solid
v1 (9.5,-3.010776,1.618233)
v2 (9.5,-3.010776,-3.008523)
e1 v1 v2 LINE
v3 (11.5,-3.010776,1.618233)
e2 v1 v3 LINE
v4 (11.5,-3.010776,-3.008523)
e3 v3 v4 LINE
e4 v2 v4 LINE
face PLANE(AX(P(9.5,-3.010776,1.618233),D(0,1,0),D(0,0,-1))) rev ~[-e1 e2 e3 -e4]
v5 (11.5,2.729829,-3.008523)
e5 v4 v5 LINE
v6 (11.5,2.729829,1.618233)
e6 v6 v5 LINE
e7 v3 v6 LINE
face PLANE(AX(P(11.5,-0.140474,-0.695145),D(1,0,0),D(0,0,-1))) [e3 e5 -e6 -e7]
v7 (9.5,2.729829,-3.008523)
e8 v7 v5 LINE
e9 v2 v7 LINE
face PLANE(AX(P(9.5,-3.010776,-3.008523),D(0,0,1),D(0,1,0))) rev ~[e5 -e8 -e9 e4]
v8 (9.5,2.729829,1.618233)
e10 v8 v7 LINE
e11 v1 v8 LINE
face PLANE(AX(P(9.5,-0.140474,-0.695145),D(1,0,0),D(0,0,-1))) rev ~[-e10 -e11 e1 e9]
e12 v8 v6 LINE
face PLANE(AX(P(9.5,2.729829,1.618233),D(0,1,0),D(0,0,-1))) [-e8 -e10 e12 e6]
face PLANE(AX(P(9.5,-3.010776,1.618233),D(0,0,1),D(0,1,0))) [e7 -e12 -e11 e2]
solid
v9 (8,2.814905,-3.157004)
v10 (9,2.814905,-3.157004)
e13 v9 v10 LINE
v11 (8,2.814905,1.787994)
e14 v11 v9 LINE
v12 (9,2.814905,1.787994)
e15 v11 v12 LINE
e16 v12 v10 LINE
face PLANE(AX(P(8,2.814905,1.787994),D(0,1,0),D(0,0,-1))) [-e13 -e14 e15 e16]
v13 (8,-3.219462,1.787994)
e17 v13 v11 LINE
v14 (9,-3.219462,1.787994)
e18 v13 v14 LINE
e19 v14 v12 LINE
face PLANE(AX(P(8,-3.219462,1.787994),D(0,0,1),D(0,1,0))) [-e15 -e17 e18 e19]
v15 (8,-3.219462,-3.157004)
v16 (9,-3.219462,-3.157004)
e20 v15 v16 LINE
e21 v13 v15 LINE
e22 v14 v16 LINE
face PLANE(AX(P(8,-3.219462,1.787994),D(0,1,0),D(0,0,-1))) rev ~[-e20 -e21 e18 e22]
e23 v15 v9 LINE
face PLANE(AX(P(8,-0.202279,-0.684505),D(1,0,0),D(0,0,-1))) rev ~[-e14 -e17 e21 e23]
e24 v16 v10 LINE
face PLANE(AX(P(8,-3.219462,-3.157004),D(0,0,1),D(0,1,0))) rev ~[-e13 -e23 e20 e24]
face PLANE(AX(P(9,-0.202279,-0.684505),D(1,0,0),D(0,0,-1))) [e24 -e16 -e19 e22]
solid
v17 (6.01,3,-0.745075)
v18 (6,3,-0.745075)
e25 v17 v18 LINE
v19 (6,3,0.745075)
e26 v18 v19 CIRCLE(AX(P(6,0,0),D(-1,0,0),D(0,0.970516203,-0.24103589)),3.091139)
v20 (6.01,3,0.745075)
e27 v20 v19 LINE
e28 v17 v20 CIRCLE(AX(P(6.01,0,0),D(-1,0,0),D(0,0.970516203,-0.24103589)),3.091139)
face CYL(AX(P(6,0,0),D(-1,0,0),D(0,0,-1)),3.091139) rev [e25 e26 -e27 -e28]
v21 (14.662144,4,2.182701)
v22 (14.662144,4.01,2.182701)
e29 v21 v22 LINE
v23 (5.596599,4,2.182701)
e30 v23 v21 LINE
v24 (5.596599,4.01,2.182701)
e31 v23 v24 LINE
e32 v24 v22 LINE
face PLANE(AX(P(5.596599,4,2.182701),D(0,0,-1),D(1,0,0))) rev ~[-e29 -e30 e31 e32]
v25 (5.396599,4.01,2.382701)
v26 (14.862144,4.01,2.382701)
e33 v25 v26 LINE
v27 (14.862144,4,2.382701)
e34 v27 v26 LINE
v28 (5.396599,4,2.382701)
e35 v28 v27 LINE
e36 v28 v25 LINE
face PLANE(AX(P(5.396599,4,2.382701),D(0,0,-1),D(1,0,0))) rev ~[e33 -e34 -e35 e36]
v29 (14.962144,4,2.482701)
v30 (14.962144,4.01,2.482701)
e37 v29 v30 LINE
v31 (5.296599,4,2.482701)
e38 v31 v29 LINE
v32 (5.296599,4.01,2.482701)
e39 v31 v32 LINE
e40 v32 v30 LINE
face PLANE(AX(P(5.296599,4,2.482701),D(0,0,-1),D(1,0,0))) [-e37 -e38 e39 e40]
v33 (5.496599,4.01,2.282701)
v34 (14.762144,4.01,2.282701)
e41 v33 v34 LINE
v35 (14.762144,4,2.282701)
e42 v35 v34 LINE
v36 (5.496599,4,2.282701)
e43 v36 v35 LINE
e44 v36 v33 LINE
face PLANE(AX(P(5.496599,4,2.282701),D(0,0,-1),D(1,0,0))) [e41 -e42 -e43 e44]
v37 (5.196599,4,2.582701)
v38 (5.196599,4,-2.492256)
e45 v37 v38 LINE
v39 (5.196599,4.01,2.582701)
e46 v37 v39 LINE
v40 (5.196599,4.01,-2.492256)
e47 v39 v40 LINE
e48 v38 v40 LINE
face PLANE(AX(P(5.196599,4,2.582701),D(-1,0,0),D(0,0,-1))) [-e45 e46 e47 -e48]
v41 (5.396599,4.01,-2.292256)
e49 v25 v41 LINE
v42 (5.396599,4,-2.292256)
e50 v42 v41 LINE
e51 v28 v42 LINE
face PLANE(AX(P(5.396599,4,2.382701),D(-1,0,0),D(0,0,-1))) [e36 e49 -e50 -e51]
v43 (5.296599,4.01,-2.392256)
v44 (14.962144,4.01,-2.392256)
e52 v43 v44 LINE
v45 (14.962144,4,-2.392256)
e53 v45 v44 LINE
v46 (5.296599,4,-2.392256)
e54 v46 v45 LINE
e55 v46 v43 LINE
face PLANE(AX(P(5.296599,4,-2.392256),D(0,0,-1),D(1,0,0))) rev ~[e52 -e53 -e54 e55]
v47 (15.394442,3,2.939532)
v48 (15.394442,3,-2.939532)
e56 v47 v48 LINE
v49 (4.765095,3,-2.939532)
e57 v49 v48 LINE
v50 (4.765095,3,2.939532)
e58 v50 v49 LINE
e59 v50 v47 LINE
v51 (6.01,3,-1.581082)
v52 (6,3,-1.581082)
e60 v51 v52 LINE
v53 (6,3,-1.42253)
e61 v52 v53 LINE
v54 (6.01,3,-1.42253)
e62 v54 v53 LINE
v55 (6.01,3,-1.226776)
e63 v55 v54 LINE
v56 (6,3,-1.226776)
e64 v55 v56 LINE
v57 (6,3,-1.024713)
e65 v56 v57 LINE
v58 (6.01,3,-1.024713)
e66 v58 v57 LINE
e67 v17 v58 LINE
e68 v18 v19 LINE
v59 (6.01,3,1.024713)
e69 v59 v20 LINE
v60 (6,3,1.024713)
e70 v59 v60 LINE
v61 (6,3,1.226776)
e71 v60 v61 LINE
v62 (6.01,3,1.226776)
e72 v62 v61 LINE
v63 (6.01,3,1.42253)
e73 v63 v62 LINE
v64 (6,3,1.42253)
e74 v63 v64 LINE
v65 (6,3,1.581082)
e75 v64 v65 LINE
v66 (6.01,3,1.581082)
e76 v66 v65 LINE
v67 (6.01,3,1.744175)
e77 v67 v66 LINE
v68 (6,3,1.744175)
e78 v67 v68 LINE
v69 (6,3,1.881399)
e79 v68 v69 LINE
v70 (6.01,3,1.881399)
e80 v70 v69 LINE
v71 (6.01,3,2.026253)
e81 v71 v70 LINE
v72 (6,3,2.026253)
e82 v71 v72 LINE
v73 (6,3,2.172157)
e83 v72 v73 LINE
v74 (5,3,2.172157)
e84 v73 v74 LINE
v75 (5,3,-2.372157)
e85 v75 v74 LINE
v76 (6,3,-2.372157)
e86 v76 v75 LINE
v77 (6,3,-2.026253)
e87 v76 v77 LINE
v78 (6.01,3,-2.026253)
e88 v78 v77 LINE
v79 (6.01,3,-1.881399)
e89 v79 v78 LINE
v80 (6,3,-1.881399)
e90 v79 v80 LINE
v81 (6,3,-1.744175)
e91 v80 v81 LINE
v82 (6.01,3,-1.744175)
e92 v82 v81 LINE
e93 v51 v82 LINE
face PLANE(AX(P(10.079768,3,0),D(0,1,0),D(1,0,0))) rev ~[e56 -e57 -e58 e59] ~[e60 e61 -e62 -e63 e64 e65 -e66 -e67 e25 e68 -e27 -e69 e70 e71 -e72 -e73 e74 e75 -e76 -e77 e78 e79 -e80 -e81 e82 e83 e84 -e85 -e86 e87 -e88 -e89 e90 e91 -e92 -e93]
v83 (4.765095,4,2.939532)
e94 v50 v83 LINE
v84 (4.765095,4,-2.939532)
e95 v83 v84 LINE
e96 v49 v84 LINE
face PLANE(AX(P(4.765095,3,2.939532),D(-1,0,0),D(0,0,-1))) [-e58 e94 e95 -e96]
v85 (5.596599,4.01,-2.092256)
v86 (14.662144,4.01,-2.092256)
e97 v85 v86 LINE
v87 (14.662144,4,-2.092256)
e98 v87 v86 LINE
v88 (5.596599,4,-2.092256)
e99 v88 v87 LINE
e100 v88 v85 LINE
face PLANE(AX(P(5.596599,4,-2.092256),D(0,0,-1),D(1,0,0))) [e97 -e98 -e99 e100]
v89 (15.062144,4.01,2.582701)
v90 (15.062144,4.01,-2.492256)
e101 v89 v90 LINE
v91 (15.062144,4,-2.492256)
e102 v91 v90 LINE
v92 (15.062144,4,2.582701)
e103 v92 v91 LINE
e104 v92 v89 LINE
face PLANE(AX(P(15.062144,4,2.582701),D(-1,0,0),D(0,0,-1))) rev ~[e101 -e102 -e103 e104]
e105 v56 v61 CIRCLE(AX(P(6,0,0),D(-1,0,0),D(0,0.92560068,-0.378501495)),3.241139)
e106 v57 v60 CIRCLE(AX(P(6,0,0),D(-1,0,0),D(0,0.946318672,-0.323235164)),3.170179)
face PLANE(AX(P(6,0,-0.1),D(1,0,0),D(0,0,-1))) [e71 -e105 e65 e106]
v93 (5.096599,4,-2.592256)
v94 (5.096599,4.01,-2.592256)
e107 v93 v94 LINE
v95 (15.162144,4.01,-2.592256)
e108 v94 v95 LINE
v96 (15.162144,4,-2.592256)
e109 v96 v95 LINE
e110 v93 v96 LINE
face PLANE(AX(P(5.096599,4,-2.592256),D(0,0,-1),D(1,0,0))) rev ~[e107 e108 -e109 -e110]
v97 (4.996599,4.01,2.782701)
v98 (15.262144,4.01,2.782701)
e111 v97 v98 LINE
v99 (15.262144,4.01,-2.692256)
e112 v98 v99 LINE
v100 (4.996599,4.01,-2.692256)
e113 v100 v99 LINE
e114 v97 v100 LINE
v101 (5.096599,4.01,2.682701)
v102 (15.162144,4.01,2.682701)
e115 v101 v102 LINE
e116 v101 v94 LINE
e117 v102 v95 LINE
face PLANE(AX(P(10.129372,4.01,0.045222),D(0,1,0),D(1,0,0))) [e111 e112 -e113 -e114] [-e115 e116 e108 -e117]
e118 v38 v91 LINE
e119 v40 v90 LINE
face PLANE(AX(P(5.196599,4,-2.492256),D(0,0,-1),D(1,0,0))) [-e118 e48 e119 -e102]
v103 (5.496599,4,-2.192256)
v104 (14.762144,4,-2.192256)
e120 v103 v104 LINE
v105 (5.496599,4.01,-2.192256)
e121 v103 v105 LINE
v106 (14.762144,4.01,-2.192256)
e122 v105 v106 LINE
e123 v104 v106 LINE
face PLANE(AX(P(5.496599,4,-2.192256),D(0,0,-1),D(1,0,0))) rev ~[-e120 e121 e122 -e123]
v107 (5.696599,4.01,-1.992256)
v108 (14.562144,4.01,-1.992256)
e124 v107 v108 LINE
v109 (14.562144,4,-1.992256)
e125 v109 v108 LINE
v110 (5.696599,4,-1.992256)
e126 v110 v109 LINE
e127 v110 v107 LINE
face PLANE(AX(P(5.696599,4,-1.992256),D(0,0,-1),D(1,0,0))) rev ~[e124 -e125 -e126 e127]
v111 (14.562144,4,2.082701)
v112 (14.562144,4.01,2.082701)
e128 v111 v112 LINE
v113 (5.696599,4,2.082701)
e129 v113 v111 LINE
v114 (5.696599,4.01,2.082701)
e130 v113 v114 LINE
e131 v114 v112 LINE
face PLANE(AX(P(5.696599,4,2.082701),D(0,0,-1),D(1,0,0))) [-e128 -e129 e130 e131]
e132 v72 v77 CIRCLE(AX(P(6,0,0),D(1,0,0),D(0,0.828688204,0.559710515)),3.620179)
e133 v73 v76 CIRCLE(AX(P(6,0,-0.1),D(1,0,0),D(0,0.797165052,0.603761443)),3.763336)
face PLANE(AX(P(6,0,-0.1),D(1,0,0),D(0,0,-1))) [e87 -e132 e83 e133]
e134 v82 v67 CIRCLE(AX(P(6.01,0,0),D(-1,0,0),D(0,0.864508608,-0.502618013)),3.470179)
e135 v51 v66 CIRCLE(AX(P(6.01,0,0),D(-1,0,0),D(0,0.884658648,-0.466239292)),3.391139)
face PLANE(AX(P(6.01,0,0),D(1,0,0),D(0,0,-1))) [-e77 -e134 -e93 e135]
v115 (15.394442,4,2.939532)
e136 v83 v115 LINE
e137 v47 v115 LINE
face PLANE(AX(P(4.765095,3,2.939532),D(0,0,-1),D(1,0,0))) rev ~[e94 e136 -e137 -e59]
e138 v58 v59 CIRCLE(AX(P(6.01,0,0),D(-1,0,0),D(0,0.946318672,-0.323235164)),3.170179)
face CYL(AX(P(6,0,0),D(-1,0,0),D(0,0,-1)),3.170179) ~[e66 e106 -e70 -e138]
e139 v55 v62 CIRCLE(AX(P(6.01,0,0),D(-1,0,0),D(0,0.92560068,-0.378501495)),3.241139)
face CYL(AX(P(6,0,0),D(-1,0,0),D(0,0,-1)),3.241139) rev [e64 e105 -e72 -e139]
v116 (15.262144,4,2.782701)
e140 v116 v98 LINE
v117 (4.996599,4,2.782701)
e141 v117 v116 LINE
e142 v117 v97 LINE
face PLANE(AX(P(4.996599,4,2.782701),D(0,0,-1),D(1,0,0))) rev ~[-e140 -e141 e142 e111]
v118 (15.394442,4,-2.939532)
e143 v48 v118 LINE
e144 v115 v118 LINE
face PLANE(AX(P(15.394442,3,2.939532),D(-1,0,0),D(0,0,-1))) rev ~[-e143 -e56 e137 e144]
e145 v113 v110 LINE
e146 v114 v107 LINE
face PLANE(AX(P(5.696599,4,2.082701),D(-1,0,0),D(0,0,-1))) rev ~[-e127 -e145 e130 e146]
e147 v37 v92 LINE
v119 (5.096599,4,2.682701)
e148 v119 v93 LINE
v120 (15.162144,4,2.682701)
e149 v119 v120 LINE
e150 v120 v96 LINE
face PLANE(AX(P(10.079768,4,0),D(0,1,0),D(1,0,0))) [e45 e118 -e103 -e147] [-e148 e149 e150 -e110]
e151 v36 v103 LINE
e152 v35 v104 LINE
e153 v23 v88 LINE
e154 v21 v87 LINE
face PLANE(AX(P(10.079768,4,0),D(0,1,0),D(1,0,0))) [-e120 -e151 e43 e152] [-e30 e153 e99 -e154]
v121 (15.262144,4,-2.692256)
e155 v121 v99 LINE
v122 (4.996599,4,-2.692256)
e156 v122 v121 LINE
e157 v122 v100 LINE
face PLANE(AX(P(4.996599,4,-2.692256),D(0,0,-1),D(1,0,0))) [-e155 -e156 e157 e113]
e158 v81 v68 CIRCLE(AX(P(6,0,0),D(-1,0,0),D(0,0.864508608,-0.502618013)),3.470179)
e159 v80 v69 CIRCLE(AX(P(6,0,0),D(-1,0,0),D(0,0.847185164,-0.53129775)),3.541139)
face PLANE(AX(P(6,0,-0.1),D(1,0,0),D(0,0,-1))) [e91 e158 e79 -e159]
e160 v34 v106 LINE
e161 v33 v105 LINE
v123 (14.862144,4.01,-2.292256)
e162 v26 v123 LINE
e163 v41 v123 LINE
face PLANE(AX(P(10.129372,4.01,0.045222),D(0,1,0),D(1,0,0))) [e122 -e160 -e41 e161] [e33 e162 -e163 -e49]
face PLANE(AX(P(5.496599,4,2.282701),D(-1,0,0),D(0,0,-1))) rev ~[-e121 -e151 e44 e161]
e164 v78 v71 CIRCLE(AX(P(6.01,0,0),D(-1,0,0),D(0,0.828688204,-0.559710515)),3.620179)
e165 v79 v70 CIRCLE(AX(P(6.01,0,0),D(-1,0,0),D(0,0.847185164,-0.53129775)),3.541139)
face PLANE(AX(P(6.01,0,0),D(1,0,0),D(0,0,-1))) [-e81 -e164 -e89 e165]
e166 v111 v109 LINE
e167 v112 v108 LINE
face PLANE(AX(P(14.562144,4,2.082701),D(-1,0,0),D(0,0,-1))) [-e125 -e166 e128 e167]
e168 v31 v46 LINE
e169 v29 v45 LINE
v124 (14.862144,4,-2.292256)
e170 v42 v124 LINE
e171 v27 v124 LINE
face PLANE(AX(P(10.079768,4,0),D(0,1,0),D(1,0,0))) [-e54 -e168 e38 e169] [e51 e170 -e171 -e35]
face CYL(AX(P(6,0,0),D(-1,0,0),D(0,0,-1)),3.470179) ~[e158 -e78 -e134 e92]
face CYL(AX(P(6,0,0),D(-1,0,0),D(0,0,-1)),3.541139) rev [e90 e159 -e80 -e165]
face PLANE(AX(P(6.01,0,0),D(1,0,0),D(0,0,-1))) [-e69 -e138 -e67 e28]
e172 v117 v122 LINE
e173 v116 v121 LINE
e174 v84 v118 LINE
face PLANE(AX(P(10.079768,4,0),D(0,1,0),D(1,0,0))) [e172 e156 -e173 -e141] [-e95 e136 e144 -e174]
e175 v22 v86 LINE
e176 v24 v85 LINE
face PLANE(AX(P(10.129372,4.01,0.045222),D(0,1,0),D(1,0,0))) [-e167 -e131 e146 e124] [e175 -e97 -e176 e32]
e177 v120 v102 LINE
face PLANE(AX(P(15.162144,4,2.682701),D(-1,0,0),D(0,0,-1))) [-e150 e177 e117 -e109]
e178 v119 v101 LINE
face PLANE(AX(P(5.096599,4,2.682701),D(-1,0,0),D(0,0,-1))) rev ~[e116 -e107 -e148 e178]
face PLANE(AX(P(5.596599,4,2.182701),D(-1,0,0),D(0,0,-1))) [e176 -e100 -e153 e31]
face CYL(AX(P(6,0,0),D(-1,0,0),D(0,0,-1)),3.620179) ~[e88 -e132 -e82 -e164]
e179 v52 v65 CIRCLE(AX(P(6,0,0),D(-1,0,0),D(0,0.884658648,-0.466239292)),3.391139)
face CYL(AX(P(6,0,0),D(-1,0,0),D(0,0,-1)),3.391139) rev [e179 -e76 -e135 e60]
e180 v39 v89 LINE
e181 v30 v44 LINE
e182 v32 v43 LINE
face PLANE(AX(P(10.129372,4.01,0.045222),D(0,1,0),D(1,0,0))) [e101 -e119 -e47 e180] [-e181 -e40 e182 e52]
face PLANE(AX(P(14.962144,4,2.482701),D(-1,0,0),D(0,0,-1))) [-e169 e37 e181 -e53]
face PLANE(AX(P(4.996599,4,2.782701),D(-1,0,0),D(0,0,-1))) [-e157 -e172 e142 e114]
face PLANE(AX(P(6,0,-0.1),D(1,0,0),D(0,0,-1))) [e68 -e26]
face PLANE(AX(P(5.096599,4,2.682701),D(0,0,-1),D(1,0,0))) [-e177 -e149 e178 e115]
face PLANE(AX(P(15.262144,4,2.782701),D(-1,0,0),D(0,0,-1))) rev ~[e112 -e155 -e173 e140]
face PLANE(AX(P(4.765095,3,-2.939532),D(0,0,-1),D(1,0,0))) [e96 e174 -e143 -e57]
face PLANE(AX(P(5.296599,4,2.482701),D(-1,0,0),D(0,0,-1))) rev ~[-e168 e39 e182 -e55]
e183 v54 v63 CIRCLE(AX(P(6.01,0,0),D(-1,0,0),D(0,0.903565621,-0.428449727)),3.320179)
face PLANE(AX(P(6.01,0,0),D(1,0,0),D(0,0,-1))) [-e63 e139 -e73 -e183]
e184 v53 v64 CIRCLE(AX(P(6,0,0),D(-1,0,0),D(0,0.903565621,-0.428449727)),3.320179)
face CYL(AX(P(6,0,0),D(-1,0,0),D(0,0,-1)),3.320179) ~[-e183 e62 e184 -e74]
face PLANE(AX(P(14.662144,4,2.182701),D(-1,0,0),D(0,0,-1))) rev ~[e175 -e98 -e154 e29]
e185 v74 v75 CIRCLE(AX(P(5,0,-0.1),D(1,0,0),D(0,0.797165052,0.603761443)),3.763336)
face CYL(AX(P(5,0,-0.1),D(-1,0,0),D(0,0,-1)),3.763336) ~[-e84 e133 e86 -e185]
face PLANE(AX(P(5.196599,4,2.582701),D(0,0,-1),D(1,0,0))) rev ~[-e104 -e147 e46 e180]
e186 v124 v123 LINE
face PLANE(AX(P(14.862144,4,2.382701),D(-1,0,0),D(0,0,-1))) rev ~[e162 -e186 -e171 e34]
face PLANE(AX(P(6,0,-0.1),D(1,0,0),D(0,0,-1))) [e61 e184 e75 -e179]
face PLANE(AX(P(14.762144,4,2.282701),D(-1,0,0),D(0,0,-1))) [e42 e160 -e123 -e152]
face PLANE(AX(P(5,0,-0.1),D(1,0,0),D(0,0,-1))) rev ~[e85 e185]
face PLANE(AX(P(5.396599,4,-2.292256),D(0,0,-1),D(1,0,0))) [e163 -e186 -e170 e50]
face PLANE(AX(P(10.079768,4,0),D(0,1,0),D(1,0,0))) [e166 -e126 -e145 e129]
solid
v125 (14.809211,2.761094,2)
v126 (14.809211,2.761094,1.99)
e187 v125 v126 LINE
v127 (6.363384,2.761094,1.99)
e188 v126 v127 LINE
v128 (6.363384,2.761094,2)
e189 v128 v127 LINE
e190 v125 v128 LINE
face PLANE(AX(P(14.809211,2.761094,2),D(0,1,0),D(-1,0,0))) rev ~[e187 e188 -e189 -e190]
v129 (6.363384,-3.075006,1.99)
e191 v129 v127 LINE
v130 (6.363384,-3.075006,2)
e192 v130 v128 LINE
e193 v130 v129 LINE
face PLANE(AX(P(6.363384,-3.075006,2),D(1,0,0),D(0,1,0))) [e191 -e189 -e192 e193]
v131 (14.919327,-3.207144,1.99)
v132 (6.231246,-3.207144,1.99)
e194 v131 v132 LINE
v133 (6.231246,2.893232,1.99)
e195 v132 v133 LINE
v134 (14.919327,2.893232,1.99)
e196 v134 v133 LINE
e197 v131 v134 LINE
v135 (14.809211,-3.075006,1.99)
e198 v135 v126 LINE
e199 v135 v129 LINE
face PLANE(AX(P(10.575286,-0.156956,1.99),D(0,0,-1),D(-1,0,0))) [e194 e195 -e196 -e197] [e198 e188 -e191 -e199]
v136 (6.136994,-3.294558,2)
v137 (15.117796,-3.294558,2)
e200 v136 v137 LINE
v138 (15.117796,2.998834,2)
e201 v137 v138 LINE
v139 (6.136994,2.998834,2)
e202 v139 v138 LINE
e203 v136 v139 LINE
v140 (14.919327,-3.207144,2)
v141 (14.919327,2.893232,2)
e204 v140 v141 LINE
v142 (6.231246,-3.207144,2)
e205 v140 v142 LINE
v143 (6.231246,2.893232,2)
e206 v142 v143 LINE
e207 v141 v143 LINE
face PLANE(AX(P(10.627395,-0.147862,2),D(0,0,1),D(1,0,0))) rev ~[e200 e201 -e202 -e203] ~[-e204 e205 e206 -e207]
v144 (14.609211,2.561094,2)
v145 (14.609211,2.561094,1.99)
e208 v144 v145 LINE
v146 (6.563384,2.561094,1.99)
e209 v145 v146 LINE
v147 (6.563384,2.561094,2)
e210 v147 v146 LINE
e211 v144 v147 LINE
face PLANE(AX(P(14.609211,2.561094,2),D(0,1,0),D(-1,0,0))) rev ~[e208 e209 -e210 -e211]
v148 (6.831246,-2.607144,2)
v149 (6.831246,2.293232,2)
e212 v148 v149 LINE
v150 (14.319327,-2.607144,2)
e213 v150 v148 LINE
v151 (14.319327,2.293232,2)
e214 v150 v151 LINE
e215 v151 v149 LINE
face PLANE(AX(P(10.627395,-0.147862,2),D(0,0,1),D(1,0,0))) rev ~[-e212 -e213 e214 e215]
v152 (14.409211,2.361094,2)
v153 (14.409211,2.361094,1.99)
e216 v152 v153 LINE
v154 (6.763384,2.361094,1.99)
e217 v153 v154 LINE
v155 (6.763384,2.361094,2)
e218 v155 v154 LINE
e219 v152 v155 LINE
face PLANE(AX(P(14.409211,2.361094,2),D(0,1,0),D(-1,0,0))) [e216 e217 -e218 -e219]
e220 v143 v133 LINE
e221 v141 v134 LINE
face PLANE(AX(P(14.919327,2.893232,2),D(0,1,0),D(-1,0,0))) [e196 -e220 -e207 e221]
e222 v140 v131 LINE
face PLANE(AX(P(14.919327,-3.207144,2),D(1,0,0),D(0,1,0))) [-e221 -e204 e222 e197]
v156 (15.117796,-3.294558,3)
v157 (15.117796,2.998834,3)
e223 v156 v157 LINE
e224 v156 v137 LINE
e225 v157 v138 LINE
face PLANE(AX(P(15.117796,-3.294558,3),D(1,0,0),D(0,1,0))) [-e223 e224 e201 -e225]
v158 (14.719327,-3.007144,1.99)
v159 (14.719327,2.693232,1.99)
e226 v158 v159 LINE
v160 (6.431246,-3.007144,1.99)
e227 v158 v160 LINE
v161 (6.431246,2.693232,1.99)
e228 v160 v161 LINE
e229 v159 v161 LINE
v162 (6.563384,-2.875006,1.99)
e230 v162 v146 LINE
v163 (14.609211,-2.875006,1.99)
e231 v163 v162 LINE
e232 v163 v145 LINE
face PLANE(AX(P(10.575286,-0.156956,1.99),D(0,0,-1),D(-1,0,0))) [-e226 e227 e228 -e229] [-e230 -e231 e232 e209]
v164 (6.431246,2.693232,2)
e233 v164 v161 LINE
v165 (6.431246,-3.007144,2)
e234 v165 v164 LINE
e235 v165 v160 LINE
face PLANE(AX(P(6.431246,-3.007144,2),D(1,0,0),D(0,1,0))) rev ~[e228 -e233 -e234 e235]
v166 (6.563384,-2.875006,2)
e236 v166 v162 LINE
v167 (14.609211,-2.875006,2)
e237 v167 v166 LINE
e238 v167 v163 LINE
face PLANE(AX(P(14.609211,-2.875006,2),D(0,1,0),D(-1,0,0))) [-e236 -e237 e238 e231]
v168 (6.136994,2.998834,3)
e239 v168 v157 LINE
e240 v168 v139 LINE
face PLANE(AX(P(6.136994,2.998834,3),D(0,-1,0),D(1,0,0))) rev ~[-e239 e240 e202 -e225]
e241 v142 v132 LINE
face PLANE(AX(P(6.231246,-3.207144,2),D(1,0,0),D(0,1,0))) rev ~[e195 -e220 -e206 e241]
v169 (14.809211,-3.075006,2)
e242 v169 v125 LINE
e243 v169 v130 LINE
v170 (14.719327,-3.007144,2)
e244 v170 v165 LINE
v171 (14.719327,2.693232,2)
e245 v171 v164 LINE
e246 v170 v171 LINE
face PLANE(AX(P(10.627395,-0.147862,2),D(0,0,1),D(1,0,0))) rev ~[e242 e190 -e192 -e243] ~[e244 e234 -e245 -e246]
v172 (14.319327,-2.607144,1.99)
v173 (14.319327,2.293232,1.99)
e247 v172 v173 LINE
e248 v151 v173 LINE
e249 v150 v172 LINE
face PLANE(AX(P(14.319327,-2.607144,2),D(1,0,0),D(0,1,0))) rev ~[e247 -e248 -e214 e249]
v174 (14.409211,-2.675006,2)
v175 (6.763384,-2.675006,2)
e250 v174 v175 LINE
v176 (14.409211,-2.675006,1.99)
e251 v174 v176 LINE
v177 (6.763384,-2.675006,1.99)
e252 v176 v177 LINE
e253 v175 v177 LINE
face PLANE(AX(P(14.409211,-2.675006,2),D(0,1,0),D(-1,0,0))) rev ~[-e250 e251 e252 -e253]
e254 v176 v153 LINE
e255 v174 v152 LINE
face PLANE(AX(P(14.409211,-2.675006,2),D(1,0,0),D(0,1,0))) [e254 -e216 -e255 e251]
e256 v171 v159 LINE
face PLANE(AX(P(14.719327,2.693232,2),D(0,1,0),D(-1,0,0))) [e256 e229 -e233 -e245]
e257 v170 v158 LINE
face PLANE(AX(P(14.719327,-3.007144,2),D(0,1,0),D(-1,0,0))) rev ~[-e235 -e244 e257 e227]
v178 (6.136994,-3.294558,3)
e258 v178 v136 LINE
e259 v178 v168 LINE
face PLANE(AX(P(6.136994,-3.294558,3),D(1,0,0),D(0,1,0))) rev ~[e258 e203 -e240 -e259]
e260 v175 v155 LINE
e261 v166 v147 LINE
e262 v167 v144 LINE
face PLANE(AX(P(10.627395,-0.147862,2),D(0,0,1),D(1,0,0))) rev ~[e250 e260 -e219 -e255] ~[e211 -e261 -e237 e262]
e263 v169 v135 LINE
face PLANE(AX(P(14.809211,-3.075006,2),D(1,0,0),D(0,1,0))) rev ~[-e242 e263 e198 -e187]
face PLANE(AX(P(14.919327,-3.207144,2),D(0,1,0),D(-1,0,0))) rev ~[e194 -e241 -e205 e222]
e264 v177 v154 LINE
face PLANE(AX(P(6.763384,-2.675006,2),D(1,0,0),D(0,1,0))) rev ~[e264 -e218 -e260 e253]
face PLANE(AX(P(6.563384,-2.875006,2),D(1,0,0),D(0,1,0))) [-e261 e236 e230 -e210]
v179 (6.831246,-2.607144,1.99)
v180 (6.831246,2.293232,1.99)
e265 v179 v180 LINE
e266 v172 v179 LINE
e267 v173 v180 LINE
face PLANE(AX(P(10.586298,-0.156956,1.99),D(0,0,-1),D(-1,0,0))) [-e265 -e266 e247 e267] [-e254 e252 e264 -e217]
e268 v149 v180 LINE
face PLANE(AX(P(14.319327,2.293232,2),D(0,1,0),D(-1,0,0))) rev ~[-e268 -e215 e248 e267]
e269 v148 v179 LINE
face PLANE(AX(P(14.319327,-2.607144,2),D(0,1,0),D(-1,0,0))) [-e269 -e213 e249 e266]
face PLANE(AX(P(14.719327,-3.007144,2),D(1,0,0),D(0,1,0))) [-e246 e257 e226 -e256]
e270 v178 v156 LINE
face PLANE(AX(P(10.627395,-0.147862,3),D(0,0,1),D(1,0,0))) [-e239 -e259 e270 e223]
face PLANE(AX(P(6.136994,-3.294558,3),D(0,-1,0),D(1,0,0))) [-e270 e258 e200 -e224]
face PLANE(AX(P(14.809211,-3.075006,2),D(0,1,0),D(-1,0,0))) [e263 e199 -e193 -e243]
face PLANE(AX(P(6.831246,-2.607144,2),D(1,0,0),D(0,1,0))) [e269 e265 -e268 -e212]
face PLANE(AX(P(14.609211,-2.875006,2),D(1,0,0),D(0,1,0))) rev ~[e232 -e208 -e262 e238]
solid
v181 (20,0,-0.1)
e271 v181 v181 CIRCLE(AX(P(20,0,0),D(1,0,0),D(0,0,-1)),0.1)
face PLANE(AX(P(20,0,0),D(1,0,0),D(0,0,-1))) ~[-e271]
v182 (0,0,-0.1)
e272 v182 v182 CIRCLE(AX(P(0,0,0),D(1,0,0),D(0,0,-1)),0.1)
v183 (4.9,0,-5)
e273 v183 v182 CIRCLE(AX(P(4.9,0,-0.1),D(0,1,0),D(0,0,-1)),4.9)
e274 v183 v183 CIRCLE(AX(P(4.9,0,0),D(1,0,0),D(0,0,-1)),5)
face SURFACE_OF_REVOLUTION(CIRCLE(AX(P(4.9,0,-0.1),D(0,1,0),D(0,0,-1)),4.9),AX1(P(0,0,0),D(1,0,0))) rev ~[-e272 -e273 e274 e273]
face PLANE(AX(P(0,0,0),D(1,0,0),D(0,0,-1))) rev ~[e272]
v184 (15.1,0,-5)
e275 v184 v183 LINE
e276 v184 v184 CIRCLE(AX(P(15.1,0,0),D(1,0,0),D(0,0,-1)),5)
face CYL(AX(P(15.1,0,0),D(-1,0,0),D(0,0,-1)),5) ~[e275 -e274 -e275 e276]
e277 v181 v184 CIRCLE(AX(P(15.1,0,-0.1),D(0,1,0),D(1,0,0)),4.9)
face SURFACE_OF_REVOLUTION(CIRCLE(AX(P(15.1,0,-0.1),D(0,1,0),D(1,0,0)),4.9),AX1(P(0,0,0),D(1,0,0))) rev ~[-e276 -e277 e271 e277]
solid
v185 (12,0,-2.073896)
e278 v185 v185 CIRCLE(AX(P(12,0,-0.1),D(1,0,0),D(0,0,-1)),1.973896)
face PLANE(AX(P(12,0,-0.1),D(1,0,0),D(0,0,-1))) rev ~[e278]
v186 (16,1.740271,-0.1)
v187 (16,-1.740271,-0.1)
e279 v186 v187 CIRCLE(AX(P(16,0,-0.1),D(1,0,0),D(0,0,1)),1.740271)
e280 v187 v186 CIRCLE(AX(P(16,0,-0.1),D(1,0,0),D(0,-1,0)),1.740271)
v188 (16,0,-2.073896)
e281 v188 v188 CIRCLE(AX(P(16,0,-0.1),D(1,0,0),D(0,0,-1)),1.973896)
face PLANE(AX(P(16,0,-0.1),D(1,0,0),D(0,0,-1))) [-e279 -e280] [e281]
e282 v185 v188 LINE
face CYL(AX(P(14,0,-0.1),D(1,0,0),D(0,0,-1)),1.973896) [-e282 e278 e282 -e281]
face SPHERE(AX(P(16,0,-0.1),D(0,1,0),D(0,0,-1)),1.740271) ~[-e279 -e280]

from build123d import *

# Parameters (mm, degrees)
SKETCH3_R            = 3.763336078
BOSS_EXTRUDE2_DEPTH  = 1
SKETCH4_W            = 8.980802585
SKETCH4_H            = 6.293392266
BOSS_EXTRUDE3_DEPTH  = 1
SKETCH5_W            = 10.629346859
SKETCH5_H            = 5.879063528
BOSS_EXTRUDE4_DEPTH  = 1
SKETCH6_W            = 10.265545257
SKETCH6_H            = 5.47495747
SKETCH6_W_2          = 10.065545257
SKETCH6_H_2          = 5.27495747
SKETCH6_W_3          = 9.865545257
SKETCH6_H_3          = 5.07495747
SKETCH6_W_4          = 9.665545257
SKETCH6_H_4          = 4.87495747
SKETCH6_W_5          = 9.465545257
SKETCH6_H_5          = 4.67495747
SKETCH6_W_6          = 9.265545257
SKETCH6_H_6          = 4.47495747
SKETCH6_W_7          = 9.065545257
SKETCH6_H_7          = 4.27495747
SKETCH6_W_8          = 8.865545257
SKETCH6_H_8          = 4.07495747
BOSS_EXTRUDE5_DEPTH  = 0.01
SKETCH8_W            = 8.688080535
SKETCH8_H            = 6.10037594
SKETCH8_W_2          = 8.445827339
SKETCH8_H_2          = 5.836099726
SKETCH8_W_3          = 8.288080535
SKETCH8_H_3          = 5.70037594
SKETCH8_W_4          = 8.045827339
SKETCH8_H_4          = 5.436099726
SKETCH8_W_5          = 7.645827339
SKETCH8_H_5          = 5.036099726
SKETCH8_W_6          = 7.488080535
SKETCH8_H_6          = 4.90037594
BOSS_EXTRUDE6_DEPTH  = 0.01
SKETCH9_R            = 3.620179443
SKETCH9_R_2          = 3.541138501
SKETCH9_R_3          = 3.470179443
SKETCH9_R_4          = 3.391138501
SKETCH9_R_5          = 3.320179443
SKETCH9_R_6          = 3.241138501
SKETCH9_R_7          = 3.170179443
SKETCH9_R_8          = 3.091138501
BOSS_EXTRUDE7_DEPTH  = 0.01
SKETCH10_W           = 4.944998425
SKETCH10_H           = 6.03436689
BOSS_EXTRUDE8_DEPTH  = 1
BOSS_EXTRUDE9_START  = 1.5
SKETCH10_3_W         = 4.626755952
SKETCH10_3_H         = 5.740604608
BOSS_EXTRUDE9_DEPTH  = 2
SKETCH11_R           = 1.973896033
BOSS_EXTRUDE10_DEPTH = 2


with BuildPart() as part:
    # Sketch1 → Revolve2 (revolve)
    with BuildSketch(Plane(origin=(0, 0, 0), x_dir=(1, 0, 0), z_dir=(0, 1, 0))):
        with BuildLine():
            Line((0, 0), (20, 0))
            Line((20, 0), (20, 0.1))
            ThreePointArc((20, 0.1), (18.564823228, 3.564823228), (15.1, 5))
            Line((15.1, 5), (4.9, 5))
            ThreePointArc((4.9, 5), (1.435176772, 3.564823228), (0, 0.1))
            Line((0, 0.1), (0, 0))
        make_face()
    revolve(axis=Axis((0, 0, 0), (1, 0, 0)))


with BuildPart() as body_2:
    # Sketch3 → Boss-Extrude2 (new body)
    with BuildSketch(Plane(origin=(5, 0, 0), x_dir=(0, 0, -1), z_dir=(1, 0, 0))):
        with Locations((0.1, 0)):
            Circle(SKETCH3_R)
    extrude(amount=BOSS_EXTRUDE2_DEPTH)



with BuildPart() as body_3:
    # Sketch4 → Boss-Extrude3 (new body)
    with BuildSketch(Plane.XY.offset(3)):
        with Locations((10.627395077, -0.147861703)):
            Rectangle(SKETCH4_W, SKETCH4_H)
    extrude(amount=-BOSS_EXTRUDE3_DEPTH)

    # Sketch8 → Boss-Extrude6 (add)
    # profile 1 of 3: a face of its own
    with BuildSketch(Plane(origin=(0, 0, 2), x_dir=(-1, 0, 0), z_dir=(0, 0, -1))):
        with Locations((-10.575286319, -0.156955762)):
            Rectangle(SKETCH8_W, SKETCH8_H)
        with Locations((-10.586297829, -0.156955762)):
            Rectangle(SKETCH8_W_2, SKETCH8_H_2, mode=Mode.SUBTRACT)
    # profile 2 of 3: a face of its own
    with BuildSketch(Plane(origin=(0, 0, 2), x_dir=(-1, 0, 0), z_dir=(0, 0, -1))):
        with Locations((-10.57528632, -0.156955762)):
            Rectangle(SKETCH8_W_3, SKETCH8_H_3)
        with Locations((-10.586297829, -0.156955762)):
            Rectangle(SKETCH8_W_4, SKETCH8_H_4, mode=Mode.SUBTRACT)
    # profile 3 of 3: a face of its own
    with BuildSketch(Plane(origin=(0, 0, 2), x_dir=(-1, 0, 0), z_dir=(0, 0, -1))):
        with Locations((-10.586297829, -0.156955762)):
            Rectangle(SKETCH8_W_5, SKETCH8_H_5)
        with Locations((-10.575286319, -0.156955762)):
            Rectangle(SKETCH8_W_6, SKETCH8_H_6, mode=Mode.SUBTRACT)
    extrude(amount=BOSS_EXTRUDE6_DEPTH)


with BuildPart() as body_4:
    # Sketch5 → Boss-Extrude4 (new body)
    with BuildSketch(Plane(origin=(0, 3, 0), x_dir=(1, 0, 0), z_dir=(0, 1, 0))):
        with Locations((10.079768419, 0)):
            Rectangle(SKETCH5_W, SKETCH5_H)
    extrude(amount=BOSS_EXTRUDE4_DEPTH)

    # Sketch6 → Boss-Extrude5 (add)
    # profile 1 of 4: a face of its own
    with BuildSketch(Plane(origin=(0, 4, 0), x_dir=(1, 0, 0), z_dir=(0, 1, 0))):
        with Locations((10.129371743, -0.045222422)):
            Rectangle(SKETCH6_W, SKETCH6_H)
        with Locations((10.129371743, -0.045222422)):
            Rectangle(SKETCH6_W_2, SKETCH6_H_2, mode=Mode.SUBTRACT)
    # profile 2 of 4: a face of its own
    with BuildSketch(Plane(origin=(0, 4, 0), x_dir=(1, 0, 0), z_dir=(0, 1, 0))):
        with Locations((10.129371743, -0.045222422)):
            Rectangle(SKETCH6_W_3, SKETCH6_H_3)
        with Locations((10.129371743, -0.045222422)):
            Rectangle(SKETCH6_W_4, SKETCH6_H_4, mode=Mode.SUBTRACT)
    # profile 3 of 4: a face of its own
    with BuildSketch(Plane(origin=(0, 4, 0), x_dir=(1, 0, 0), z_dir=(0, 1, 0))):
        with Locations((10.129371743, -0.045222422)):
            Rectangle(SKETCH6_W_5, SKETCH6_H_5)
        with Locations((10.129371743, -0.045222422)):
            Rectangle(SKETCH6_W_6, SKETCH6_H_6, mode=Mode.SUBTRACT)
    # profile 4 of 4: a face of its own
    with BuildSketch(Plane(origin=(0, 4, 0), x_dir=(1, 0, 0), z_dir=(0, 1, 0))):
        with Locations((10.129371743, -0.045222422)):
            Rectangle(SKETCH6_W_7, SKETCH6_H_7)
        with Locations((10.129371743, -0.045222422)):
            Rectangle(SKETCH6_W_8, SKETCH6_H_8, mode=Mode.SUBTRACT)
    extrude(amount=BOSS_EXTRUDE5_DEPTH)


with BuildPart() as body_2_1:
    add(body_2.part)

    add(body_4.part)  # Boss-Extrude7 merges body 4
    # Sketch9 → Boss-Extrude7 (add)
    # profile 1 of 4: a face of its own
    with BuildSketch(Plane(origin=(6, 0, 0), x_dir=(0, 0, -1), z_dir=(1, 0, 0))):
        Circle(SKETCH9_R)
        Circle(SKETCH9_R_2, mode=Mode.SUBTRACT)
    # profile 2 of 4: a face of its own
    with BuildSketch(Plane(origin=(6, 0, 0), x_dir=(0, 0, -1), z_dir=(1, 0, 0))):
        Circle(SKETCH9_R_3)
        Circle(SKETCH9_R_4, mode=Mode.SUBTRACT)
    # profile 3 of 4: a face of its own
    with BuildSketch(Plane(origin=(6, 0, 0), x_dir=(0, 0, -1), z_dir=(1, 0, 0))):
        Circle(SKETCH9_R_5)
        Circle(SKETCH9_R_6, mode=Mode.SUBTRACT)
    # profile 4 of 4: a face of its own
    with BuildSketch(Plane(origin=(6, 0, 0), x_dir=(0, 0, -1), z_dir=(1, 0, 0))):
        Circle(SKETCH9_R_7)
        Circle(SKETCH9_R_8, mode=Mode.SUBTRACT)
    extrude(amount=BOSS_EXTRUDE7_DEPTH)


with BuildPart() as body_4_2:
    # Sketch10 → Boss-Extrude8 (new body)
    with BuildSketch(Plane(origin=(8, 0, 0), x_dir=(0, 0, -1), z_dir=(1, 0, 0))):
        with Locations((0.684505199, -0.202278632)):
            Rectangle(SKETCH10_W, SKETCH10_H)
    extrude(amount=BOSS_EXTRUDE8_DEPTH)


with BuildPart() as body_5:
    # Sketch10<3> → Boss-Extrude9 (new body)
    with BuildSketch(Plane(origin=(8, 0, 0), x_dir=(0, 0, -1), z_dir=(1, 0, 0)).offset(BOSS_EXTRUDE9_START)):
        with Locations((0.695145233, -0.140473525)):
            Rectangle(SKETCH10_3_W, SKETCH10_3_H)
    extrude(amount=BOSS_EXTRUDE9_DEPTH)


with BuildPart() as body_6:
    # Sketch11 → Boss-Extrude10 (new, symmetric)
    with BuildSketch(Plane(origin=(14, 0, 0), x_dir=(0, 0, -1), z_dir=(1, 0, 0))):
        with Locations((0.1, 0)):
            Circle(SKETCH11_R)
    extrude(amount=BOSS_EXTRUDE10_DEPTH, both=True)

    # Sketch12 → Revolve3 (revolve)
    with BuildSketch(Plane(origin=(16, 0, 0), x_dir=(0, 0, -1), z_dir=(1, 0, 0))):
        with BuildLine():
            Line((0.1, 1.740271465), (0.1, -1.740271465))
            ThreePointArc((0.1, -1.740271465), (1.840271465, 0), (0.1, 1.740271465))
        make_face()
    revolve(axis=Axis((16, 1.740271465, -0.1), (0, -1, 0)))


solid = Compound([part.part, body_3.part, body_2_1.part, body_4_2.part, body_5.part, body_6.part])
